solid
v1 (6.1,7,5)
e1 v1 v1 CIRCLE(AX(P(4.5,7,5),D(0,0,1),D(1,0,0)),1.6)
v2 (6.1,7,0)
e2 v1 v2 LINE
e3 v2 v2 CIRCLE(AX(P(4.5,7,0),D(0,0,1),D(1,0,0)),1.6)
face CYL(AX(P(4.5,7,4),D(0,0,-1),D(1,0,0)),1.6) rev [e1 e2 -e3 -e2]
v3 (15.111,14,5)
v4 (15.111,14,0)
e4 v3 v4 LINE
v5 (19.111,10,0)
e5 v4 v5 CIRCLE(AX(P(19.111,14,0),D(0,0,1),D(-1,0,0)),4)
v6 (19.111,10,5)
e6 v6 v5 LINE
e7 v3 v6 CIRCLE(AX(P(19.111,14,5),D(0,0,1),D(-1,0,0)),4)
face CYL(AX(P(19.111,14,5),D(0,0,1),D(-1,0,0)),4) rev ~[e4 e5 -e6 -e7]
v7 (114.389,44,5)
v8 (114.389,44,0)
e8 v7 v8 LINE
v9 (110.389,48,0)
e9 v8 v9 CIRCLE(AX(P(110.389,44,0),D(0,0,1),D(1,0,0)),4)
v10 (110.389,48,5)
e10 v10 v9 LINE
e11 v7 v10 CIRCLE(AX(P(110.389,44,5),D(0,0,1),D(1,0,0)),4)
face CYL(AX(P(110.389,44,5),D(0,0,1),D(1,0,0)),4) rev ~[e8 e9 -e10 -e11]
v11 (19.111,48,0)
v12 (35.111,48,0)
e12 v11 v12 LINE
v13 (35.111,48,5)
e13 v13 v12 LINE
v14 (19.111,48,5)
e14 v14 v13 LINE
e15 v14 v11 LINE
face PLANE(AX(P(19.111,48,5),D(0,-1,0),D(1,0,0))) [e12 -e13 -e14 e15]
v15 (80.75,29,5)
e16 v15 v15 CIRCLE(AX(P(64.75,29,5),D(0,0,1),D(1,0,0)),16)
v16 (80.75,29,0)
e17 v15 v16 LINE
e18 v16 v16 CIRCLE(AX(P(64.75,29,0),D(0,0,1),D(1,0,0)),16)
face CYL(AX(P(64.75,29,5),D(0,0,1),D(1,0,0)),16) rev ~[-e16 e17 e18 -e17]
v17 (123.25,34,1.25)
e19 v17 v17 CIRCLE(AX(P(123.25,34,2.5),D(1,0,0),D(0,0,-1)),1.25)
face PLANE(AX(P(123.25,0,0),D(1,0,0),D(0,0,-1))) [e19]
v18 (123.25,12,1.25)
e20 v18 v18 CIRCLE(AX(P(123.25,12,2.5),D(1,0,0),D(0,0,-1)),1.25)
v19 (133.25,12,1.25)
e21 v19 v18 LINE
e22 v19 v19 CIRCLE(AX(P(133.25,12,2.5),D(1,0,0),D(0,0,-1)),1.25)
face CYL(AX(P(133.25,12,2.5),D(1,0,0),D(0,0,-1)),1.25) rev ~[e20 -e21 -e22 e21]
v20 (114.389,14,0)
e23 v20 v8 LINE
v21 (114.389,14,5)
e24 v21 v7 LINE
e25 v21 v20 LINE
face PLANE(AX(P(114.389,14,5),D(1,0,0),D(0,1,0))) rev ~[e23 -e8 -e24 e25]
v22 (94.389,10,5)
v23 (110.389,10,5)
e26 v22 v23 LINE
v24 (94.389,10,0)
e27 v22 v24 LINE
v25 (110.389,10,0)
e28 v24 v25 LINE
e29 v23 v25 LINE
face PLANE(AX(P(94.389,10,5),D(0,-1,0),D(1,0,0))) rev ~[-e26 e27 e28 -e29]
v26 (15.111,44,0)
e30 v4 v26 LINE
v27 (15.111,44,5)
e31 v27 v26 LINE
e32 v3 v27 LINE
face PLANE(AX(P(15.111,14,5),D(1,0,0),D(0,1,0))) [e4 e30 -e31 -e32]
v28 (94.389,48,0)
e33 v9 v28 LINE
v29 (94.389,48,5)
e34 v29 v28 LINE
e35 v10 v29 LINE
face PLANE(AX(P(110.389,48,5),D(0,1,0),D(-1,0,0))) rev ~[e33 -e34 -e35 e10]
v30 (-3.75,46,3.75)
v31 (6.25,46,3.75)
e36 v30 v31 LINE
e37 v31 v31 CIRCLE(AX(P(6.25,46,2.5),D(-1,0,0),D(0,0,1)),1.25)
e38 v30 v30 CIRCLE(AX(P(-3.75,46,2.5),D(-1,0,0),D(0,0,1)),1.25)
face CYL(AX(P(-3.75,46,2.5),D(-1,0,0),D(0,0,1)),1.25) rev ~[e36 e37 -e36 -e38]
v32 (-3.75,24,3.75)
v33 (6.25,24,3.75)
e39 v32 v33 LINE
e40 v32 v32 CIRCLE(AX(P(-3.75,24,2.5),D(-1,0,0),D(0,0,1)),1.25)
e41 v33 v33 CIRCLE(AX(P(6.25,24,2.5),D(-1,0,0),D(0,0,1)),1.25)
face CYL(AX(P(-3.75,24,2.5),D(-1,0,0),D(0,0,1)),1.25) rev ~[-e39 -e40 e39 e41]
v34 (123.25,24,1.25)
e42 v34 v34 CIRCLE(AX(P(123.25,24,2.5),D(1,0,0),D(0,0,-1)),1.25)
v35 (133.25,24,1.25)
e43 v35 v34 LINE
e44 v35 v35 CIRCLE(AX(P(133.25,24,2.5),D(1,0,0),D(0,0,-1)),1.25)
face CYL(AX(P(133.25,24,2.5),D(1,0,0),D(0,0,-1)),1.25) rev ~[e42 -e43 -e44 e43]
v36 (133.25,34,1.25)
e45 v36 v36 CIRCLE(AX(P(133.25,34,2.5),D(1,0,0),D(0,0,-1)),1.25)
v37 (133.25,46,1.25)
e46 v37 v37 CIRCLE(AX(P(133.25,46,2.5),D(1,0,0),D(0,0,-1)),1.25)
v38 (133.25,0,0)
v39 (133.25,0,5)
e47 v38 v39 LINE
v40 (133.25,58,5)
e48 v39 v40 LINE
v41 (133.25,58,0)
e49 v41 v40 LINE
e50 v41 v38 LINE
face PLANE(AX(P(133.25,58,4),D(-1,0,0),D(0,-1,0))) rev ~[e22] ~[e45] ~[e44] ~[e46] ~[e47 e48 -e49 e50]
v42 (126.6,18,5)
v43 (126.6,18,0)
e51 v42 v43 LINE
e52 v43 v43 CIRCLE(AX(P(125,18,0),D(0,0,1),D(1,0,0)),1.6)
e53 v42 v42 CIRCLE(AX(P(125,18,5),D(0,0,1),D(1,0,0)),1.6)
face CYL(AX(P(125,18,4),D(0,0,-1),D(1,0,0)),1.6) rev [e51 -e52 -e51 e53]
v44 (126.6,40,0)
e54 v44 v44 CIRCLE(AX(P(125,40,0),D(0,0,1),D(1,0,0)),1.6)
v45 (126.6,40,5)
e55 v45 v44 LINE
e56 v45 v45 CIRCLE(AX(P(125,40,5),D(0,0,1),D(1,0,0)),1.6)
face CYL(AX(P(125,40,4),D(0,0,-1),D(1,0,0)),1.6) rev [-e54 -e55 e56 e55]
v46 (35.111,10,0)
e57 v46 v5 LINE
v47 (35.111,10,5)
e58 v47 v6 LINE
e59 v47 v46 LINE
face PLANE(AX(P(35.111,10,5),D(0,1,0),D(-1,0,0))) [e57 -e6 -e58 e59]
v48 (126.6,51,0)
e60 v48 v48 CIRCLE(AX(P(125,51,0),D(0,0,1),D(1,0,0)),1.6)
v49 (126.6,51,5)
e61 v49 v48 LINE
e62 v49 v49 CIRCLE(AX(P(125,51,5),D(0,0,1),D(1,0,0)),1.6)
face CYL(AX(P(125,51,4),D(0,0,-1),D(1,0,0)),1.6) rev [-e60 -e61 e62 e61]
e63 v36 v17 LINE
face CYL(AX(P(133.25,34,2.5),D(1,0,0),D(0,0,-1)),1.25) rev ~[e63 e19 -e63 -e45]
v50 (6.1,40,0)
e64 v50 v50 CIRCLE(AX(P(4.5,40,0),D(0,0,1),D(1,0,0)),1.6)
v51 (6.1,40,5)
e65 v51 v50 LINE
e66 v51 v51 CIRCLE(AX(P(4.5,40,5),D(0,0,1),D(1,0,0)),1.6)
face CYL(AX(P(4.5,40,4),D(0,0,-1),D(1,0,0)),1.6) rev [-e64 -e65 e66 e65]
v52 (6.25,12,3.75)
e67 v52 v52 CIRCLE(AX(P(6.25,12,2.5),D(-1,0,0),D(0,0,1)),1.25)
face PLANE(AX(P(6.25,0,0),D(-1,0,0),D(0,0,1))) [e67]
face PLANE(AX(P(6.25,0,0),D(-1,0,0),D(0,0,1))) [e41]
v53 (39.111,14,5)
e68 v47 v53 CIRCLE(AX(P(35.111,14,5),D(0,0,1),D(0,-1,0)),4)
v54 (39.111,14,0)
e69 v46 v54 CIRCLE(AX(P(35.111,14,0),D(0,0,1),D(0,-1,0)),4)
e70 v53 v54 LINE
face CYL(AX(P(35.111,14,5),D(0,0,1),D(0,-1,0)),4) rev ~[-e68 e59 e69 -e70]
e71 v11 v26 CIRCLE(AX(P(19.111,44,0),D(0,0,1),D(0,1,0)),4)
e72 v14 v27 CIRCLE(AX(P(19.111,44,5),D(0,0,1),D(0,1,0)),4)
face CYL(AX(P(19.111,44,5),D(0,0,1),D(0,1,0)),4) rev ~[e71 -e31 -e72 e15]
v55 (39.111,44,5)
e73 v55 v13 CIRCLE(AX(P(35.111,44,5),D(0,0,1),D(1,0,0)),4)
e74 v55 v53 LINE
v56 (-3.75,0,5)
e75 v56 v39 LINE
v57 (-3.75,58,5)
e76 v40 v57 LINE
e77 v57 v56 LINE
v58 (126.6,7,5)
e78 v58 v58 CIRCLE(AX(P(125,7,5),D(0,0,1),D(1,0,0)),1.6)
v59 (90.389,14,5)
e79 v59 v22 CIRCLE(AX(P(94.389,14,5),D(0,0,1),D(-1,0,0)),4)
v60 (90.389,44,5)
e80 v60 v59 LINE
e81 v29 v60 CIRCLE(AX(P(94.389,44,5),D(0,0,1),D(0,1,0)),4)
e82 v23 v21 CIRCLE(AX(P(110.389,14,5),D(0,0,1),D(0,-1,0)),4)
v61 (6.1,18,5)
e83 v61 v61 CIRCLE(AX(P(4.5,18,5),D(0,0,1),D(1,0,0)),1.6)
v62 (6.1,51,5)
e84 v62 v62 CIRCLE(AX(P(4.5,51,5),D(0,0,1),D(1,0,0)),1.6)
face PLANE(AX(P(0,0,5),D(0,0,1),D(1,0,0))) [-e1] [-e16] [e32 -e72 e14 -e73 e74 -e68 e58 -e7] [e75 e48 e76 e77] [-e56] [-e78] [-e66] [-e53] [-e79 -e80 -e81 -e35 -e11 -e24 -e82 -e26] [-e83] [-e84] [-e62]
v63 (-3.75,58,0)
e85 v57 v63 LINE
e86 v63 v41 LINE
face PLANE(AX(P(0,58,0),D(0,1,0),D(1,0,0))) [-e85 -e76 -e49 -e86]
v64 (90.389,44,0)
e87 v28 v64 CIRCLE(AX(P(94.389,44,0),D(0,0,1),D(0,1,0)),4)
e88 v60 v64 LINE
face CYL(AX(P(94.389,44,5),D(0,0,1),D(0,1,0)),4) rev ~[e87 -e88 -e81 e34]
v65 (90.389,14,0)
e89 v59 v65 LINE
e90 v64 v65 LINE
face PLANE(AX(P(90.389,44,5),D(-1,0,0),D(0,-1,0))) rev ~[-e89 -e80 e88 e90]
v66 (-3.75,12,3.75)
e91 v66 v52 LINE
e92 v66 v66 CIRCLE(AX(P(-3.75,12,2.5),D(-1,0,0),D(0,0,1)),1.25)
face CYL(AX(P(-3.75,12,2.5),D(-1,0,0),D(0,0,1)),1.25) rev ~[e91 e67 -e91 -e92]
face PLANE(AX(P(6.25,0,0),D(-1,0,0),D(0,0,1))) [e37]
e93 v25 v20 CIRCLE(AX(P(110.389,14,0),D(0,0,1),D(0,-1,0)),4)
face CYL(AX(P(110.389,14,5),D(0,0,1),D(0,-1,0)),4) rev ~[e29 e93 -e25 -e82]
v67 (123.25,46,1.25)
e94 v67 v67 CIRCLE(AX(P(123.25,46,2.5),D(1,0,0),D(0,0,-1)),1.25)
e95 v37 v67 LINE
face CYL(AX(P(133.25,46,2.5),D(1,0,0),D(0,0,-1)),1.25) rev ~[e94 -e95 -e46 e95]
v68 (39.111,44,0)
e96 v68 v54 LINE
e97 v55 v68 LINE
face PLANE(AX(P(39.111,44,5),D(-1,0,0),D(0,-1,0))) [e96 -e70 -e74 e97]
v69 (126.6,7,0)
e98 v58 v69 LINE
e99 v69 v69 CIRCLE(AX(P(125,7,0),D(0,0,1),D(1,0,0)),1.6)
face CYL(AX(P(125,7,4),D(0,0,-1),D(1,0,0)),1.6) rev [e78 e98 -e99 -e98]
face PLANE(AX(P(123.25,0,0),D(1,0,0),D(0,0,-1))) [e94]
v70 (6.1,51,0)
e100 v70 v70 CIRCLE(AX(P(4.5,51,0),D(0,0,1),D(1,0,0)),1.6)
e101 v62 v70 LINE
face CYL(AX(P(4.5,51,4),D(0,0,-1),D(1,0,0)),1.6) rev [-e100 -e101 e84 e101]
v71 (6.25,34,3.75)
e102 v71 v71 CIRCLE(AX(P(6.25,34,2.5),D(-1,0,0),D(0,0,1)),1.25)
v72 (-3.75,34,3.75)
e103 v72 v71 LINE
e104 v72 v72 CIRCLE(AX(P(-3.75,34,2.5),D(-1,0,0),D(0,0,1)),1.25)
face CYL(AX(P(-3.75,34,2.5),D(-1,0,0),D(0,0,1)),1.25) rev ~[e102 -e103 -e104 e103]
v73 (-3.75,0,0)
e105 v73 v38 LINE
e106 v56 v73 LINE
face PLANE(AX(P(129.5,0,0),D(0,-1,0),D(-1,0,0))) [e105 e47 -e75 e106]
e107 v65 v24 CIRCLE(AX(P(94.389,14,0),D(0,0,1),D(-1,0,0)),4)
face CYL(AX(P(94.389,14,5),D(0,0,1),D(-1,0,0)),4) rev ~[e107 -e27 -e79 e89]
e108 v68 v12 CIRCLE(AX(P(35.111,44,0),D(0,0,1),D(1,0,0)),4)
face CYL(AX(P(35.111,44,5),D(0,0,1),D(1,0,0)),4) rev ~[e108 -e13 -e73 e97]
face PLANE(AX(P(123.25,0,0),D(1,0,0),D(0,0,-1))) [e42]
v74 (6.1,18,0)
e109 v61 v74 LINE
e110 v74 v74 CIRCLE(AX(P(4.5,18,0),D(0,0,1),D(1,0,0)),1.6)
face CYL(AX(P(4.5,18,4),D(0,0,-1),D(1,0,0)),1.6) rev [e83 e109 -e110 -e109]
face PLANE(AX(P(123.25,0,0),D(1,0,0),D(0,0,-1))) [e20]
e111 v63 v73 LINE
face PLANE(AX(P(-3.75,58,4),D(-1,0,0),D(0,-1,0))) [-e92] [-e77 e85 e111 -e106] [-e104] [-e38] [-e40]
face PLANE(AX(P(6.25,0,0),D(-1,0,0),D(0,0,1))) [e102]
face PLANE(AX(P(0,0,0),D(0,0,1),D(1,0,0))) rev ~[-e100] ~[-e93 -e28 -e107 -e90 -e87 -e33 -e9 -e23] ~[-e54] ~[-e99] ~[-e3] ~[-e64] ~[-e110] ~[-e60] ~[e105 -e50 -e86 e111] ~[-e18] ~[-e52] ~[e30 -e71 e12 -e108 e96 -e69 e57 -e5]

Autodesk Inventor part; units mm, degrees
ref_plane "YZ Plane" through (0, 0, 0) normal (1, 0, 0) x (0, 1, 0)
ref_plane "XZ Plane" through (0, 0, 0) normal (0, 1, 0) x (-1, 0, 0)
ref_plane "XY Plane" through (0, 0, 0) normal (0, 0, 1) x (1, 0, 0)
sketch "스케치1" plane through (0, 0, 0) normal (0, 0, 1) x (1, 0, 0)
  line L0 (0, 0) -> (0, 58)
  line L1 (0, 58) -> (129.5, 58)
  line L2 (31.75, 58) -> (31.75, 0) construction
  circle A0 centre (31.75, 51) radius 1.6
  circle A1 centre (31.75, 40) radius 1.6
  circle A2 centre (31.75, 18) radius 1.6
  circle A3 centre (31.75, 7) radius 1.6
  line L3 (64.75, 58) -> (64.75, 0) construction
  circle A4 centre (97.75, 51) radius 1.6
  circle A5 centre (97.75, 40) radius 1.6
  circle A6 centre (97.75, 18) radius 1.6
  circle A7 centre (97.75, 7) radius 1.6
  line L4 (129.5, 58) -> (129.5, 0)
  line L5 (129.5, 0) -> (0, 0)
  circle A8 centre (64.75, 29) radius 10
  dimension "d0" = 58
  dimension "d1" = 129.5
  dimension "d3" = 3.2
  dimension "d4" = 3.2
  dimension "d5" = 3.2
  dimension "d6" = 3.2
  dimension "d7" = 7
  dimension "d8" = 11
  dimension "d9" = 7
  dimension "d10" = 11
  dimension "d13" = 66
  dimension "d14" = 20
extrude "돌출1" add sketch "스케치1" along normal blind 4 contours L0 L1 L4 L5 | A8
extrude "돌출2" cut sketch "스케치1" along normal blind 4 contours A8
sketch "스케치2" plane through (0, 0, 4) normal (0, 0, 1) x (1, 0, 0)
  circle A0 centre (64.75, 29) radius 10 projected
  line L0 (0, 58) -> (0, 0) projected
  line L1 (0, 0) -> (129.5, 0) projected
  line L2 (129.5, 0) -> (129.5, 58) projected
  line L3 (129.5, 58) -> (0, 58) projected
  circle A1 centre (97.75, 7) radius 1.6 projected
  circle A2 centre (97.75, 18) radius 1.6 projected
  circle A3 centre (97.75, 40) radius 1.6 projected
  circle A4 centre (97.75, 51) radius 1.6 projected
  circle A5 centre (31.75, 7) radius 1.6 projected
  circle A6 centre (31.75, 18) radius 1.6 projected
  circle A7 centre (31.75, 40) radius 1.6 projected
  circle A8 centre (31.75, 51) radius 1.6 projected
  line L4 (41.75, 51) -> (87.75, 51)
  line L5 (89.75, 49) -> (89.75, 48)
  line L6 (87.75, 46) -> (41.75, 46)
  line L7 (39.75, 48) -> (39.75, 49)
  line L8 (0, 58) -> (0, 0) projected
  line L9 (0, 29) -> (129.5, 29) construction
  line L10 (41.75, 7) -> (87.75, 7)
  line L11 (89.75, 9) -> (89.75, 10)
  line L12 (87.75, 12) -> (41.75, 12)
  line L13 (39.75, 10) -> (39.75, 9)
  arc A9 (41.75, 51) -> (39.75, 49) centre (41.75, 49) ccw
  arc A10 (39.75, 48) -> (41.75, 46) centre (41.75, 48) ccw
  arc A11 (89.75, 49) -> (87.75, 51) centre (87.75, 49) ccw
  arc A12 (87.75, 46) -> (89.75, 48) centre (87.75, 48) ccw
  arc A13 (89.75, 10) -> (87.75, 12) centre (87.75, 10) ccw
  arc A14 (87.75, 7) -> (89.75, 9) centre (87.75, 9) ccw
  arc A15 (39.75, 9) -> (41.75, 7) centre (41.75, 9) ccw
  arc A16 (41.75, 12) -> (39.75, 10) centre (41.75, 10) ccw
  point P0 (39.75, 51)
  point P1 (89.75, 51)
  point P2 (89.75, 46)
  point P3 (39.75, 46)
  point P4 (39.75, 7)
  point P5 (89.75, 7)
  point P6 (89.75, 12)
  point P7 (39.75, 12)
  dimension "d17" = 50
  dimension "d18" = 5
  dimension "d19" = 8
  dimension "d22" = 2
extrude "돌출3" cut sketch "스케치2" against normal blind 4 contours L4 A11 L5 A12 L6 A10 L7 A9 | A15 L13 A16 L12 A13 L11 A14 L10
sketch "스케치3" plane through (0, 0, 4) normal (0, 0, 1) x (1, 0, 0)
  line L0 (41.75, 12) -> (87.75, 12) projected
  arc A0 (89.75, 10) -> (87.75, 12) centre (87.75, 10) ccw projected
  line L1 (89.75, 10) -> (89.75, 9) projected
  arc A1 (87.75, 7) -> (89.75, 9) centre (87.75, 9) ccw projected
  line L2 (87.75, 7) -> (41.75, 7) projected
  arc A2 (39.75, 9) -> (41.75, 7) centre (41.75, 9) ccw projected
  line L3 (39.75, 9) -> (39.75, 10) projected
  arc A3 (41.75, 12) -> (39.75, 10) centre (41.75, 10) ccw projected
  arc A4 (87.75, 46) -> (89.75, 48) centre (87.75, 48) ccw projected
  line L4 (87.75, 46) -> (41.75, 46) projected
  arc A5 (39.75, 48) -> (41.75, 46) centre (41.75, 48) ccw projected
  line L5 (39.75, 48) -> (39.75, 49) projected
  arc A6 (41.75, 51) -> (39.75, 49) centre (41.75, 49) ccw projected
  line L6 (41.75, 51) -> (87.75, 51) projected
  arc A7 (89.75, 49) -> (87.75, 51) centre (87.75, 49) ccw projected
  line L7 (89.75, 49) -> (89.75, 48) projected
  circle A8 centre (64.75, 29) radius 10 projected
  line L8 (129.5, 0) -> (129.5, 58) projected
  line L9 (129.5, 58) -> (0, 58) projected
  line L10 (0, 58) -> (0, 0) projected
  line L11 (0, 0) -> (129.5, 0) projected
  circle A9 centre (97.75, 7) radius 1.6 projected
  circle A10 centre (97.75, 18) radius 1.6 projected
  circle A11 centre (97.75, 40) radius 1.6 projected
  circle A12 centre (97.75, 51) radius 1.6 projected
  circle A13 centre (31.75, 7) radius 1.6 projected
  circle A14 centre (31.75, 18) radius 1.6 projected
  circle A15 centre (31.75, 40) radius 1.6 projected
  circle A16 centre (31.75, 51) radius 1.6 projected
  line L12 (129.5, 58) -> (0, 58) projected
  line L13 (4.5, 58) -> (4.5, 0)
  line L14 (0, 0) -> (129.5, 0) projected
  circle A17 centre (4.5, 51) radius 1.6
  circle A18 centre (4.5, 40) radius 1.6
  circle A19 centre (4.5, 18) radius 1.6
  circle A20 centre (4.5, 7) radius 1.6
  line L15 (64.75, 58) -> (64.75, 0)
  circle A21 centre (125, 51) radius 1.6
  circle A22 centre (125, 40) radius 1.6
  circle A23 centre (125, 18) radius 1.6
  circle A24 centre (125, 7) radius 1.6
  dimension "d23" = 4.5
  dimension "d24" = 3.2
  dimension "d25" = 3.2
  dimension "d26" = 3.2
  dimension "d27" = 3.2
extrude "돌출4" cut sketch "스케치3" against normal blind 4 contours A20 L13 | L13 A20 | A19 L13 | L13 A19 | A17 L13 | L13 A17 | A18 L13 | L13 A18 | A21 | A22 | A23 | A24
sketch "스케치5" plane through (0, 0, 4) normal (0, 0, 1) x (1, 0, 0)
  circle A0 centre (4.5, 18) radius 1.6 projected
  circle A1 centre (125, 18) radius 1.6 projected
  circle A2 centre (125, 40) radius 1.6 projected
  circle A3 centre (4.5, 40) radius 1.6 projected
  circle A4 centre (4.5, 7) radius 1.6 projected
  circle A5 centre (125, 7) radius 1.6 projected
  circle A6 centre (125, 51) radius 1.6 projected
  circle A7 centre (4.5, 51) radius 1.6 projected
  line L0 (41.75, 12) -> (87.75, 12) projected
  arc A8 (89.75, 10) -> (87.75, 12) centre (87.75, 10) ccw projected
  line L1 (89.75, 10) -> (89.75, 9) projected
  arc A9 (87.75, 7) -> (89.75, 9) centre (87.75, 9) ccw projected
  line L2 (87.75, 7) -> (41.75, 7) projected
  arc A10 (39.75, 9) -> (41.75, 7) centre (41.75, 9) ccw projected
  line L3 (39.75, 9) -> (39.75, 10) projected
  arc A11 (41.75, 12) -> (39.75, 10) centre (41.75, 10) ccw projected
  arc A12 (87.75, 46) -> (89.75, 48) centre (87.75, 48) ccw projected
  line L4 (87.75, 46) -> (41.75, 46) projected
  arc A13 (39.75, 48) -> (41.75, 46) centre (41.75, 48) ccw projected
  line L5 (39.75, 48) -> (39.75, 49) projected
  arc A14 (41.75, 51) -> (39.75, 49) centre (41.75, 49) ccw projected
  line L6 (41.75, 51) -> (87.75, 51) projected
  arc A15 (89.75, 49) -> (87.75, 51) centre (87.75, 49) ccw projected
  line L7 (89.75, 49) -> (89.75, 48) projected
  circle A16 centre (64.75, 29) radius 10 projected
  line L8 (129.5, 0) -> (129.5, 58) projected
  line L9 (129.5, 58) -> (0, 58) projected
  line L10 (0, 58) -> (0, 0) projected
  line L11 (0, 0) -> (129.5, 0) projected
  circle A17 centre (97.75, 7) radius 1.6 projected
  circle A18 centre (97.75, 51) radius 1.6 projected
  circle A19 centre (31.75, 7) radius 1.6 projected
  circle A20 centre (31.75, 51) radius 1.6 projected
  line L12 (129.5, 58) -> (0, 58) projected
  line L13 (64.75, 58) -> (-3.75, 58)
  line L14 (129.5, 58) -> (0, 58) projected
  line L15 (64.75, 58) -> (133.25, 58)
  line L16 (-3.75, 58) -> (-3.75, 0)
  line L17 (0, 0) -> (129.5, 0) projected
  line L18 (-3.75, 0) -> (0, 0)
  line L19 (133.25, 58) -> (133.25, 0)
  line L20 (133.25, 0) -> (129.5, 0)
  dimension "d36" = 68.5
  dimension "d37" = 68.5
extrude "돌출6" add sketch "스케치5" against normal up to surface (4 mm away) contours L8 L15 L19 L20 | L18 L16 L13 L10
sketch "스케치6" plane through (0, 0, 4) normal (0, 0, 1) x (1, 0, 0)
  circle A0 centre (4.5, 18) radius 1.6 projected
  circle A1 centre (125, 18) radius 1.6 projected
  circle A2 centre (125, 40) radius 1.6 projected
  circle A3 centre (4.5, 40) radius 1.6 projected
  circle A4 centre (4.5, 7) radius 1.6 projected
  circle A5 centre (125, 7) radius 1.6 projected
  circle A6 centre (125, 51) radius 1.6 projected
  circle A7 centre (4.5, 51) radius 1.6 projected
  line L0 (41.75, 12) -> (87.75, 12) projected
  arc A8 (89.75, 10) -> (87.75, 12) centre (87.75, 10) ccw projected
  line L1 (89.75, 10) -> (89.75, 9) projected
  arc A9 (87.75, 7) -> (89.75, 9) centre (87.75, 9) ccw projected
  line L2 (87.75, 7) -> (41.75, 7) projected
  arc A10 (39.75, 9) -> (41.75, 7) centre (41.75, 9) ccw projected
  line L3 (39.75, 9) -> (39.75, 10) projected
  arc A11 (41.75, 12) -> (39.75, 10) centre (41.75, 10) ccw projected
  arc A12 (87.75, 46) -> (89.75, 48) centre (87.75, 48) ccw projected
  line L4 (87.75, 46) -> (41.75, 46) projected
  arc A13 (39.75, 48) -> (41.75, 46) centre (41.75, 48) ccw projected
  line L5 (39.75, 48) -> (39.75, 49) projected
  arc A14 (41.75, 51) -> (39.75, 49) centre (41.75, 49) ccw projected
  line L6 (41.75, 51) -> (87.75, 51) projected
  arc A15 (89.75, 49) -> (87.75, 51) centre (87.75, 49) ccw projected
  line L7 (89.75, 49) -> (89.75, 48) projected
  circle A16 centre (64.75, 29) radius 10 projected
  line L8 (133.25, 58) -> (-3.75, 58) projected
  line L9 (-3.75, 58) -> (-3.75, 0) projected
  line L10 (-3.75, 0) -> (133.25, 0) projected
  line L11 (133.25, 0) -> (133.25, 58) projected
  circle A17 centre (97.75, 7) radius 1.6 projected
  circle A18 centre (97.75, 51) radius 1.6 projected
  circle A19 centre (31.75, 7) radius 1.6 projected
  circle A20 centre (31.75, 51) radius 1.6 projected
  point P0 (0, 0)
extrude "돌출7" add sketch "스케치6" along normal blind 1 contours L11 L10 L9 L8 | A17 | A18 | A19 | A20
sketch "스케치7" plane through (133.25, 0, 0) normal (1, 0, 0) x (0, 0, -1)
  line L0 (0, 58) -> (-5, 58) projected
  line L1 (-2.5, 58) -> (-2.5, 0) construction
  circle A0 centre (-2.5, 34) radius 1.25
  circle A1 centre (-2.5, 46) radius 1.25
  circle A2 centre (-2.5, 24) radius 1.25
  circle A3 centre (-2.5, 12) radius 1.25
  line L2 (0, 58) -> (-5, 58) projected
  line L3 (-5, 0) -> (0, 0) projected
  dimension "d43" = 12
  dimension "d46" = 12
  dimension "d49" = 12
  dimension "d50" = 12
extrude "돌출8" cut sketch "스케치7" against normal blind 10
sketch "스케치8" plane through (0, 0, 5) normal (0, 0, 1) x (1, 0, 0)
  line L0 (-3.75, 58) -> (-3.75, 0) projected
  line L1 (-3.75, 0) -> (133.25, 0) projected
  line L2 (133.25, 0) -> (133.25, 58) projected
  line L3 (133.25, 58) -> (-3.75, 58) projected
  circle A0 centre (64.75, 29) radius 10 projected
  circle A1 centre (4.5, 18) radius 1.6 projected
  circle A2 centre (125, 18) radius 1.6 projected
  circle A3 centre (125, 40) radius 1.6 projected
  circle A4 centre (4.5, 40) radius 1.6 projected
  circle A5 centre (4.5, 7) radius 1.6 projected
  circle A6 centre (125, 7) radius 1.6 projected
  circle A7 centre (125, 51) radius 1.6 projected
  circle A8 centre (4.5, 51) radius 1.6 projected
  line L4 (39.75, 48) -> (39.75, 49) projected
  arc A9 (41.75, 51) -> (39.75, 49) centre (41.75, 49) ccw projected
  line L5 (41.75, 51) -> (87.75, 51) projected
  arc A10 (89.75, 49) -> (87.75, 51) centre (87.75, 49) ccw projected
  line L6 (89.75, 49) -> (89.75, 48) projected
  arc A11 (87.75, 46) -> (89.75, 48) centre (87.75, 48) ccw projected
  line L7 (87.75, 46) -> (41.75, 46) projected
  arc A12 (39.75, 48) -> (41.75, 46) centre (41.75, 48) ccw projected
  line L8 (39.75, 9) -> (39.75, 10) projected
  arc A13 (41.75, 12) -> (39.75, 10) centre (41.75, 10) ccw projected
  line L9 (41.75, 12) -> (87.75, 12) projected
  arc A14 (89.75, 10) -> (87.75, 12) centre (87.75, 10) ccw projected
  line L10 (89.75, 10) -> (89.75, 9) projected
  arc A15 (87.75, 7) -> (89.75, 9) centre (87.75, 9) ccw projected
  line L11 (87.75, 7) -> (41.75, 7) projected
  arc A16 (39.75, 9) -> (41.75, 7) centre (41.75, 9) ccw projected
  point P0 (0, 0)
extrude "돌출9" add sketch "스케치8" against normal blind 5 contours L4 A9 L5 A10 L6 A11 L7 A12 | L8 A13 L9 A14 L10 A15 L11 A16
sketch "스케치9" plane through (0, 0, 5) normal (0, 0, 1) x (1, 0, 0)
  circle A0 centre (64.75, 29) radius 10 projected
  circle A1 centre (64.75, 29) radius 16
  line L0 (133.25, 58) -> (-3.75, 58) projected
  line L1 (35.75, 58) -> (64.75, 29)
  line L2 (64.75, 29) -> (70.75, 29)
  line L3 (-3.75, 0) -> (133.25, 0) projected
  line L4 (70.75, 29) -> (38.9302, 60.8198)
  point P0 (0, 0)
  point P1 (56.8413, 42.9087)
  point P2 (41.75, 58)
  point P3 (53.4363, 40.3137)
  dimension "d53" = 32
  dimension "d56" = 6
  dimension "d57" = 45
  dimension "d58" = 45
extrude "돌출10" cut sketch "스케치9" against normal blind 5 contours A0 L1 L2 L4 | A0 L4 A1 L1 | L4 L2 L1 A0 | A0 L1 A1 L4
sketch "스케치12" plane through (0, 0, 5) normal (0, 0, 1) x (1, 0, 0)
  line L0 (-3.75, 0) -> (-3.75, 58) projected
  line L1 (-3.75, 29) -> (133.25, 29) construction
  line L2 (133.25, 0) -> (133.25, 58) projected
  line L3 (19.111, 48) -> (35.111, 48)
  line L4 (39.111, 44) -> (39.111, 14)
  line L5 (35.111, 10) -> (19.111, 10)
  line L6 (15.111, 14) -> (15.111, 44)
  line L7 (15.111, 48) -> (39.111, 10) construction
  line L8 (39.111, 48) -> (15.111, 10) construction
  line L9 (133.25, 58) -> (-3.75, 58) projected
  arc A0 (19.111, 48) -> (15.111, 44) centre (19.111, 44) ccw
  arc A1 (39.111, 44) -> (35.111, 48) centre (35.111, 44) ccw
  arc A2 (35.111, 10) -> (39.111, 14) centre (35.111, 14) ccw
  arc A3 (15.111, 14) -> (19.111, 10) centre (19.111, 14) ccw
  line L10 (-3.75, 58) -> (133.25, 58) projected
  line L11 (64.75, 58) -> (64.75, 0)
  line L12 (133.25, 0) -> (-3.75, 0) projected
  line L13 (110.389, 48) -> (94.389, 48)
  line L14 (90.389, 44) -> (90.389, 14)
  line L15 (94.389, 10) -> (110.389, 10)
  line L16 (114.389, 14) -> (114.389, 44)
  line L17 (114.389, 48) -> (90.389, 10) construction
  line L18 (90.389, 48) -> (114.389, 10) construction
  arc A4 (114.389, 44) -> (110.389, 48) centre (110.389, 44) ccw
  arc A5 (94.389, 48) -> (90.389, 44) centre (94.389, 44) ccw
  arc A6 (90.389, 14) -> (94.389, 10) centre (94.389, 14) ccw
  arc A7 (110.389, 10) -> (114.389, 14) centre (110.389, 14) ccw
  point P0 (0, 0)
  point P1 (27.111, 29)
  point P2 (102.389, 29)
  dimension "d65" = 24
  dimension "d66" = 10
  dimension "d67" = 4
extrude "돌출11" cut sketch "스케치12" against normal blind 5 contours L3 A1 L4 A2 L5 A3 L6 A0 | A4 L16 A7 L15 A6 L14 A5 L13
sketch "스케치13" plane through (97.75, 51, 4) normal (0, 0, -1) x (-1, 0, 0)
  arc A0 (3.361, -41) -> (7.361, -37) centre (3.361, -37) ccw projected
  line L0 (3.361, -41) -> (-12.639, -41) projected
  arc A1 (-16.639, -37) -> (-12.639, -41) centre (-12.639, -37) ccw projected
  line L1 (-16.639, -37) -> (-16.639, -7) projected
  arc A2 (-12.639, -3) -> (-16.639, -7) centre (-12.639, -7) ccw projected
  line L2 (-12.639, -3) -> (3.361, -3) projected
  arc A3 (7.361, -7) -> (3.361, -3) centre (3.361, -7) ccw projected
  line L3 (7.361, -7) -> (7.361, -37) projected
  arc A4 (58.639, -37) -> (62.639, -41) centre (62.639, -37) ccw projected
  line L4 (58.639, -37) -> (58.639, -7) projected
  arc A5 (62.639, -3) -> (58.639, -7) centre (62.639, -7) ccw projected
  line L5 (62.639, -3) -> (78.639, -3) projected
  arc A6 (82.639, -7) -> (78.639, -3) centre (78.639, -7) ccw projected
  line L6 (82.639, -7) -> (82.639, -37) projected
  arc A7 (78.639, -41) -> (82.639, -37) centre (78.639, -37) ccw projected
  line L7 (78.639, -41) -> (62.639, -41) projected
  circle A8 centre (33, -22) radius 16 projected
  circle A9 centre (93.25, -33) radius 1.6 projected
  circle A10 centre (-27.25, -33) radius 1.6 projected
  circle A11 centre (-27.25, -11) radius 1.6 projected
  circle A12 centre (93.25, -11) radius 1.6 projected
  circle A13 centre (93.25, -44) radius 1.6 projected
  circle A14 centre (-27.25, -44) radius 1.6 projected
  circle A15 centre (-27.25, 0) radius 1.6 projected
  circle A16 centre (93.25, 0) radius 1.6 projected
  line L8 (-35.5, -51) -> (101.5, -51) projected
  line L9 (101.5, -51) -> (101.5, 7) projected
  line L10 (101.5, 7) -> (-35.5, 7) projected
  line L11 (-35.5, 7) -> (-35.5, -51) projected
  circle A17 centre (0, -44) radius 1.6 projected
  circle A18 centre (0, 0) radius 1.6 projected
  circle A19 centre (66, -44) radius 1.6 projected
  circle A20 centre (66, 0) radius 1.6 projected
  point P0 (97.75, -51)
extrude "돌출12" add sketch "스케치13" along normal up to surface (4 mm away) contours A17 | A18 | A19 | A20
sketch "스케치14" plane through (-3.75, 0, 0) normal (-1, 0, 0) x (0, 0, 1)
  line L0 (0, 58) -> (5, 58) projected
  line L1 (2.5, 58) -> (2.5, 0) construction
  line L2 (5, 0) -> (0, 0) projected
  circle A0 centre (2.5, 46) radius 1.25 projected
  circle A1 centre (2.5, 34) radius 1.25 projected
  circle A2 centre (2.5, 24) radius 1.25 projected
  circle A3 centre (2.5, 12) radius 1.25 projected
extrude "돌출13" cut sketch "스케치14" against normal blind 10
properties part number "조인트3_박스아랫판_6T" material "알루미늄 6061"
